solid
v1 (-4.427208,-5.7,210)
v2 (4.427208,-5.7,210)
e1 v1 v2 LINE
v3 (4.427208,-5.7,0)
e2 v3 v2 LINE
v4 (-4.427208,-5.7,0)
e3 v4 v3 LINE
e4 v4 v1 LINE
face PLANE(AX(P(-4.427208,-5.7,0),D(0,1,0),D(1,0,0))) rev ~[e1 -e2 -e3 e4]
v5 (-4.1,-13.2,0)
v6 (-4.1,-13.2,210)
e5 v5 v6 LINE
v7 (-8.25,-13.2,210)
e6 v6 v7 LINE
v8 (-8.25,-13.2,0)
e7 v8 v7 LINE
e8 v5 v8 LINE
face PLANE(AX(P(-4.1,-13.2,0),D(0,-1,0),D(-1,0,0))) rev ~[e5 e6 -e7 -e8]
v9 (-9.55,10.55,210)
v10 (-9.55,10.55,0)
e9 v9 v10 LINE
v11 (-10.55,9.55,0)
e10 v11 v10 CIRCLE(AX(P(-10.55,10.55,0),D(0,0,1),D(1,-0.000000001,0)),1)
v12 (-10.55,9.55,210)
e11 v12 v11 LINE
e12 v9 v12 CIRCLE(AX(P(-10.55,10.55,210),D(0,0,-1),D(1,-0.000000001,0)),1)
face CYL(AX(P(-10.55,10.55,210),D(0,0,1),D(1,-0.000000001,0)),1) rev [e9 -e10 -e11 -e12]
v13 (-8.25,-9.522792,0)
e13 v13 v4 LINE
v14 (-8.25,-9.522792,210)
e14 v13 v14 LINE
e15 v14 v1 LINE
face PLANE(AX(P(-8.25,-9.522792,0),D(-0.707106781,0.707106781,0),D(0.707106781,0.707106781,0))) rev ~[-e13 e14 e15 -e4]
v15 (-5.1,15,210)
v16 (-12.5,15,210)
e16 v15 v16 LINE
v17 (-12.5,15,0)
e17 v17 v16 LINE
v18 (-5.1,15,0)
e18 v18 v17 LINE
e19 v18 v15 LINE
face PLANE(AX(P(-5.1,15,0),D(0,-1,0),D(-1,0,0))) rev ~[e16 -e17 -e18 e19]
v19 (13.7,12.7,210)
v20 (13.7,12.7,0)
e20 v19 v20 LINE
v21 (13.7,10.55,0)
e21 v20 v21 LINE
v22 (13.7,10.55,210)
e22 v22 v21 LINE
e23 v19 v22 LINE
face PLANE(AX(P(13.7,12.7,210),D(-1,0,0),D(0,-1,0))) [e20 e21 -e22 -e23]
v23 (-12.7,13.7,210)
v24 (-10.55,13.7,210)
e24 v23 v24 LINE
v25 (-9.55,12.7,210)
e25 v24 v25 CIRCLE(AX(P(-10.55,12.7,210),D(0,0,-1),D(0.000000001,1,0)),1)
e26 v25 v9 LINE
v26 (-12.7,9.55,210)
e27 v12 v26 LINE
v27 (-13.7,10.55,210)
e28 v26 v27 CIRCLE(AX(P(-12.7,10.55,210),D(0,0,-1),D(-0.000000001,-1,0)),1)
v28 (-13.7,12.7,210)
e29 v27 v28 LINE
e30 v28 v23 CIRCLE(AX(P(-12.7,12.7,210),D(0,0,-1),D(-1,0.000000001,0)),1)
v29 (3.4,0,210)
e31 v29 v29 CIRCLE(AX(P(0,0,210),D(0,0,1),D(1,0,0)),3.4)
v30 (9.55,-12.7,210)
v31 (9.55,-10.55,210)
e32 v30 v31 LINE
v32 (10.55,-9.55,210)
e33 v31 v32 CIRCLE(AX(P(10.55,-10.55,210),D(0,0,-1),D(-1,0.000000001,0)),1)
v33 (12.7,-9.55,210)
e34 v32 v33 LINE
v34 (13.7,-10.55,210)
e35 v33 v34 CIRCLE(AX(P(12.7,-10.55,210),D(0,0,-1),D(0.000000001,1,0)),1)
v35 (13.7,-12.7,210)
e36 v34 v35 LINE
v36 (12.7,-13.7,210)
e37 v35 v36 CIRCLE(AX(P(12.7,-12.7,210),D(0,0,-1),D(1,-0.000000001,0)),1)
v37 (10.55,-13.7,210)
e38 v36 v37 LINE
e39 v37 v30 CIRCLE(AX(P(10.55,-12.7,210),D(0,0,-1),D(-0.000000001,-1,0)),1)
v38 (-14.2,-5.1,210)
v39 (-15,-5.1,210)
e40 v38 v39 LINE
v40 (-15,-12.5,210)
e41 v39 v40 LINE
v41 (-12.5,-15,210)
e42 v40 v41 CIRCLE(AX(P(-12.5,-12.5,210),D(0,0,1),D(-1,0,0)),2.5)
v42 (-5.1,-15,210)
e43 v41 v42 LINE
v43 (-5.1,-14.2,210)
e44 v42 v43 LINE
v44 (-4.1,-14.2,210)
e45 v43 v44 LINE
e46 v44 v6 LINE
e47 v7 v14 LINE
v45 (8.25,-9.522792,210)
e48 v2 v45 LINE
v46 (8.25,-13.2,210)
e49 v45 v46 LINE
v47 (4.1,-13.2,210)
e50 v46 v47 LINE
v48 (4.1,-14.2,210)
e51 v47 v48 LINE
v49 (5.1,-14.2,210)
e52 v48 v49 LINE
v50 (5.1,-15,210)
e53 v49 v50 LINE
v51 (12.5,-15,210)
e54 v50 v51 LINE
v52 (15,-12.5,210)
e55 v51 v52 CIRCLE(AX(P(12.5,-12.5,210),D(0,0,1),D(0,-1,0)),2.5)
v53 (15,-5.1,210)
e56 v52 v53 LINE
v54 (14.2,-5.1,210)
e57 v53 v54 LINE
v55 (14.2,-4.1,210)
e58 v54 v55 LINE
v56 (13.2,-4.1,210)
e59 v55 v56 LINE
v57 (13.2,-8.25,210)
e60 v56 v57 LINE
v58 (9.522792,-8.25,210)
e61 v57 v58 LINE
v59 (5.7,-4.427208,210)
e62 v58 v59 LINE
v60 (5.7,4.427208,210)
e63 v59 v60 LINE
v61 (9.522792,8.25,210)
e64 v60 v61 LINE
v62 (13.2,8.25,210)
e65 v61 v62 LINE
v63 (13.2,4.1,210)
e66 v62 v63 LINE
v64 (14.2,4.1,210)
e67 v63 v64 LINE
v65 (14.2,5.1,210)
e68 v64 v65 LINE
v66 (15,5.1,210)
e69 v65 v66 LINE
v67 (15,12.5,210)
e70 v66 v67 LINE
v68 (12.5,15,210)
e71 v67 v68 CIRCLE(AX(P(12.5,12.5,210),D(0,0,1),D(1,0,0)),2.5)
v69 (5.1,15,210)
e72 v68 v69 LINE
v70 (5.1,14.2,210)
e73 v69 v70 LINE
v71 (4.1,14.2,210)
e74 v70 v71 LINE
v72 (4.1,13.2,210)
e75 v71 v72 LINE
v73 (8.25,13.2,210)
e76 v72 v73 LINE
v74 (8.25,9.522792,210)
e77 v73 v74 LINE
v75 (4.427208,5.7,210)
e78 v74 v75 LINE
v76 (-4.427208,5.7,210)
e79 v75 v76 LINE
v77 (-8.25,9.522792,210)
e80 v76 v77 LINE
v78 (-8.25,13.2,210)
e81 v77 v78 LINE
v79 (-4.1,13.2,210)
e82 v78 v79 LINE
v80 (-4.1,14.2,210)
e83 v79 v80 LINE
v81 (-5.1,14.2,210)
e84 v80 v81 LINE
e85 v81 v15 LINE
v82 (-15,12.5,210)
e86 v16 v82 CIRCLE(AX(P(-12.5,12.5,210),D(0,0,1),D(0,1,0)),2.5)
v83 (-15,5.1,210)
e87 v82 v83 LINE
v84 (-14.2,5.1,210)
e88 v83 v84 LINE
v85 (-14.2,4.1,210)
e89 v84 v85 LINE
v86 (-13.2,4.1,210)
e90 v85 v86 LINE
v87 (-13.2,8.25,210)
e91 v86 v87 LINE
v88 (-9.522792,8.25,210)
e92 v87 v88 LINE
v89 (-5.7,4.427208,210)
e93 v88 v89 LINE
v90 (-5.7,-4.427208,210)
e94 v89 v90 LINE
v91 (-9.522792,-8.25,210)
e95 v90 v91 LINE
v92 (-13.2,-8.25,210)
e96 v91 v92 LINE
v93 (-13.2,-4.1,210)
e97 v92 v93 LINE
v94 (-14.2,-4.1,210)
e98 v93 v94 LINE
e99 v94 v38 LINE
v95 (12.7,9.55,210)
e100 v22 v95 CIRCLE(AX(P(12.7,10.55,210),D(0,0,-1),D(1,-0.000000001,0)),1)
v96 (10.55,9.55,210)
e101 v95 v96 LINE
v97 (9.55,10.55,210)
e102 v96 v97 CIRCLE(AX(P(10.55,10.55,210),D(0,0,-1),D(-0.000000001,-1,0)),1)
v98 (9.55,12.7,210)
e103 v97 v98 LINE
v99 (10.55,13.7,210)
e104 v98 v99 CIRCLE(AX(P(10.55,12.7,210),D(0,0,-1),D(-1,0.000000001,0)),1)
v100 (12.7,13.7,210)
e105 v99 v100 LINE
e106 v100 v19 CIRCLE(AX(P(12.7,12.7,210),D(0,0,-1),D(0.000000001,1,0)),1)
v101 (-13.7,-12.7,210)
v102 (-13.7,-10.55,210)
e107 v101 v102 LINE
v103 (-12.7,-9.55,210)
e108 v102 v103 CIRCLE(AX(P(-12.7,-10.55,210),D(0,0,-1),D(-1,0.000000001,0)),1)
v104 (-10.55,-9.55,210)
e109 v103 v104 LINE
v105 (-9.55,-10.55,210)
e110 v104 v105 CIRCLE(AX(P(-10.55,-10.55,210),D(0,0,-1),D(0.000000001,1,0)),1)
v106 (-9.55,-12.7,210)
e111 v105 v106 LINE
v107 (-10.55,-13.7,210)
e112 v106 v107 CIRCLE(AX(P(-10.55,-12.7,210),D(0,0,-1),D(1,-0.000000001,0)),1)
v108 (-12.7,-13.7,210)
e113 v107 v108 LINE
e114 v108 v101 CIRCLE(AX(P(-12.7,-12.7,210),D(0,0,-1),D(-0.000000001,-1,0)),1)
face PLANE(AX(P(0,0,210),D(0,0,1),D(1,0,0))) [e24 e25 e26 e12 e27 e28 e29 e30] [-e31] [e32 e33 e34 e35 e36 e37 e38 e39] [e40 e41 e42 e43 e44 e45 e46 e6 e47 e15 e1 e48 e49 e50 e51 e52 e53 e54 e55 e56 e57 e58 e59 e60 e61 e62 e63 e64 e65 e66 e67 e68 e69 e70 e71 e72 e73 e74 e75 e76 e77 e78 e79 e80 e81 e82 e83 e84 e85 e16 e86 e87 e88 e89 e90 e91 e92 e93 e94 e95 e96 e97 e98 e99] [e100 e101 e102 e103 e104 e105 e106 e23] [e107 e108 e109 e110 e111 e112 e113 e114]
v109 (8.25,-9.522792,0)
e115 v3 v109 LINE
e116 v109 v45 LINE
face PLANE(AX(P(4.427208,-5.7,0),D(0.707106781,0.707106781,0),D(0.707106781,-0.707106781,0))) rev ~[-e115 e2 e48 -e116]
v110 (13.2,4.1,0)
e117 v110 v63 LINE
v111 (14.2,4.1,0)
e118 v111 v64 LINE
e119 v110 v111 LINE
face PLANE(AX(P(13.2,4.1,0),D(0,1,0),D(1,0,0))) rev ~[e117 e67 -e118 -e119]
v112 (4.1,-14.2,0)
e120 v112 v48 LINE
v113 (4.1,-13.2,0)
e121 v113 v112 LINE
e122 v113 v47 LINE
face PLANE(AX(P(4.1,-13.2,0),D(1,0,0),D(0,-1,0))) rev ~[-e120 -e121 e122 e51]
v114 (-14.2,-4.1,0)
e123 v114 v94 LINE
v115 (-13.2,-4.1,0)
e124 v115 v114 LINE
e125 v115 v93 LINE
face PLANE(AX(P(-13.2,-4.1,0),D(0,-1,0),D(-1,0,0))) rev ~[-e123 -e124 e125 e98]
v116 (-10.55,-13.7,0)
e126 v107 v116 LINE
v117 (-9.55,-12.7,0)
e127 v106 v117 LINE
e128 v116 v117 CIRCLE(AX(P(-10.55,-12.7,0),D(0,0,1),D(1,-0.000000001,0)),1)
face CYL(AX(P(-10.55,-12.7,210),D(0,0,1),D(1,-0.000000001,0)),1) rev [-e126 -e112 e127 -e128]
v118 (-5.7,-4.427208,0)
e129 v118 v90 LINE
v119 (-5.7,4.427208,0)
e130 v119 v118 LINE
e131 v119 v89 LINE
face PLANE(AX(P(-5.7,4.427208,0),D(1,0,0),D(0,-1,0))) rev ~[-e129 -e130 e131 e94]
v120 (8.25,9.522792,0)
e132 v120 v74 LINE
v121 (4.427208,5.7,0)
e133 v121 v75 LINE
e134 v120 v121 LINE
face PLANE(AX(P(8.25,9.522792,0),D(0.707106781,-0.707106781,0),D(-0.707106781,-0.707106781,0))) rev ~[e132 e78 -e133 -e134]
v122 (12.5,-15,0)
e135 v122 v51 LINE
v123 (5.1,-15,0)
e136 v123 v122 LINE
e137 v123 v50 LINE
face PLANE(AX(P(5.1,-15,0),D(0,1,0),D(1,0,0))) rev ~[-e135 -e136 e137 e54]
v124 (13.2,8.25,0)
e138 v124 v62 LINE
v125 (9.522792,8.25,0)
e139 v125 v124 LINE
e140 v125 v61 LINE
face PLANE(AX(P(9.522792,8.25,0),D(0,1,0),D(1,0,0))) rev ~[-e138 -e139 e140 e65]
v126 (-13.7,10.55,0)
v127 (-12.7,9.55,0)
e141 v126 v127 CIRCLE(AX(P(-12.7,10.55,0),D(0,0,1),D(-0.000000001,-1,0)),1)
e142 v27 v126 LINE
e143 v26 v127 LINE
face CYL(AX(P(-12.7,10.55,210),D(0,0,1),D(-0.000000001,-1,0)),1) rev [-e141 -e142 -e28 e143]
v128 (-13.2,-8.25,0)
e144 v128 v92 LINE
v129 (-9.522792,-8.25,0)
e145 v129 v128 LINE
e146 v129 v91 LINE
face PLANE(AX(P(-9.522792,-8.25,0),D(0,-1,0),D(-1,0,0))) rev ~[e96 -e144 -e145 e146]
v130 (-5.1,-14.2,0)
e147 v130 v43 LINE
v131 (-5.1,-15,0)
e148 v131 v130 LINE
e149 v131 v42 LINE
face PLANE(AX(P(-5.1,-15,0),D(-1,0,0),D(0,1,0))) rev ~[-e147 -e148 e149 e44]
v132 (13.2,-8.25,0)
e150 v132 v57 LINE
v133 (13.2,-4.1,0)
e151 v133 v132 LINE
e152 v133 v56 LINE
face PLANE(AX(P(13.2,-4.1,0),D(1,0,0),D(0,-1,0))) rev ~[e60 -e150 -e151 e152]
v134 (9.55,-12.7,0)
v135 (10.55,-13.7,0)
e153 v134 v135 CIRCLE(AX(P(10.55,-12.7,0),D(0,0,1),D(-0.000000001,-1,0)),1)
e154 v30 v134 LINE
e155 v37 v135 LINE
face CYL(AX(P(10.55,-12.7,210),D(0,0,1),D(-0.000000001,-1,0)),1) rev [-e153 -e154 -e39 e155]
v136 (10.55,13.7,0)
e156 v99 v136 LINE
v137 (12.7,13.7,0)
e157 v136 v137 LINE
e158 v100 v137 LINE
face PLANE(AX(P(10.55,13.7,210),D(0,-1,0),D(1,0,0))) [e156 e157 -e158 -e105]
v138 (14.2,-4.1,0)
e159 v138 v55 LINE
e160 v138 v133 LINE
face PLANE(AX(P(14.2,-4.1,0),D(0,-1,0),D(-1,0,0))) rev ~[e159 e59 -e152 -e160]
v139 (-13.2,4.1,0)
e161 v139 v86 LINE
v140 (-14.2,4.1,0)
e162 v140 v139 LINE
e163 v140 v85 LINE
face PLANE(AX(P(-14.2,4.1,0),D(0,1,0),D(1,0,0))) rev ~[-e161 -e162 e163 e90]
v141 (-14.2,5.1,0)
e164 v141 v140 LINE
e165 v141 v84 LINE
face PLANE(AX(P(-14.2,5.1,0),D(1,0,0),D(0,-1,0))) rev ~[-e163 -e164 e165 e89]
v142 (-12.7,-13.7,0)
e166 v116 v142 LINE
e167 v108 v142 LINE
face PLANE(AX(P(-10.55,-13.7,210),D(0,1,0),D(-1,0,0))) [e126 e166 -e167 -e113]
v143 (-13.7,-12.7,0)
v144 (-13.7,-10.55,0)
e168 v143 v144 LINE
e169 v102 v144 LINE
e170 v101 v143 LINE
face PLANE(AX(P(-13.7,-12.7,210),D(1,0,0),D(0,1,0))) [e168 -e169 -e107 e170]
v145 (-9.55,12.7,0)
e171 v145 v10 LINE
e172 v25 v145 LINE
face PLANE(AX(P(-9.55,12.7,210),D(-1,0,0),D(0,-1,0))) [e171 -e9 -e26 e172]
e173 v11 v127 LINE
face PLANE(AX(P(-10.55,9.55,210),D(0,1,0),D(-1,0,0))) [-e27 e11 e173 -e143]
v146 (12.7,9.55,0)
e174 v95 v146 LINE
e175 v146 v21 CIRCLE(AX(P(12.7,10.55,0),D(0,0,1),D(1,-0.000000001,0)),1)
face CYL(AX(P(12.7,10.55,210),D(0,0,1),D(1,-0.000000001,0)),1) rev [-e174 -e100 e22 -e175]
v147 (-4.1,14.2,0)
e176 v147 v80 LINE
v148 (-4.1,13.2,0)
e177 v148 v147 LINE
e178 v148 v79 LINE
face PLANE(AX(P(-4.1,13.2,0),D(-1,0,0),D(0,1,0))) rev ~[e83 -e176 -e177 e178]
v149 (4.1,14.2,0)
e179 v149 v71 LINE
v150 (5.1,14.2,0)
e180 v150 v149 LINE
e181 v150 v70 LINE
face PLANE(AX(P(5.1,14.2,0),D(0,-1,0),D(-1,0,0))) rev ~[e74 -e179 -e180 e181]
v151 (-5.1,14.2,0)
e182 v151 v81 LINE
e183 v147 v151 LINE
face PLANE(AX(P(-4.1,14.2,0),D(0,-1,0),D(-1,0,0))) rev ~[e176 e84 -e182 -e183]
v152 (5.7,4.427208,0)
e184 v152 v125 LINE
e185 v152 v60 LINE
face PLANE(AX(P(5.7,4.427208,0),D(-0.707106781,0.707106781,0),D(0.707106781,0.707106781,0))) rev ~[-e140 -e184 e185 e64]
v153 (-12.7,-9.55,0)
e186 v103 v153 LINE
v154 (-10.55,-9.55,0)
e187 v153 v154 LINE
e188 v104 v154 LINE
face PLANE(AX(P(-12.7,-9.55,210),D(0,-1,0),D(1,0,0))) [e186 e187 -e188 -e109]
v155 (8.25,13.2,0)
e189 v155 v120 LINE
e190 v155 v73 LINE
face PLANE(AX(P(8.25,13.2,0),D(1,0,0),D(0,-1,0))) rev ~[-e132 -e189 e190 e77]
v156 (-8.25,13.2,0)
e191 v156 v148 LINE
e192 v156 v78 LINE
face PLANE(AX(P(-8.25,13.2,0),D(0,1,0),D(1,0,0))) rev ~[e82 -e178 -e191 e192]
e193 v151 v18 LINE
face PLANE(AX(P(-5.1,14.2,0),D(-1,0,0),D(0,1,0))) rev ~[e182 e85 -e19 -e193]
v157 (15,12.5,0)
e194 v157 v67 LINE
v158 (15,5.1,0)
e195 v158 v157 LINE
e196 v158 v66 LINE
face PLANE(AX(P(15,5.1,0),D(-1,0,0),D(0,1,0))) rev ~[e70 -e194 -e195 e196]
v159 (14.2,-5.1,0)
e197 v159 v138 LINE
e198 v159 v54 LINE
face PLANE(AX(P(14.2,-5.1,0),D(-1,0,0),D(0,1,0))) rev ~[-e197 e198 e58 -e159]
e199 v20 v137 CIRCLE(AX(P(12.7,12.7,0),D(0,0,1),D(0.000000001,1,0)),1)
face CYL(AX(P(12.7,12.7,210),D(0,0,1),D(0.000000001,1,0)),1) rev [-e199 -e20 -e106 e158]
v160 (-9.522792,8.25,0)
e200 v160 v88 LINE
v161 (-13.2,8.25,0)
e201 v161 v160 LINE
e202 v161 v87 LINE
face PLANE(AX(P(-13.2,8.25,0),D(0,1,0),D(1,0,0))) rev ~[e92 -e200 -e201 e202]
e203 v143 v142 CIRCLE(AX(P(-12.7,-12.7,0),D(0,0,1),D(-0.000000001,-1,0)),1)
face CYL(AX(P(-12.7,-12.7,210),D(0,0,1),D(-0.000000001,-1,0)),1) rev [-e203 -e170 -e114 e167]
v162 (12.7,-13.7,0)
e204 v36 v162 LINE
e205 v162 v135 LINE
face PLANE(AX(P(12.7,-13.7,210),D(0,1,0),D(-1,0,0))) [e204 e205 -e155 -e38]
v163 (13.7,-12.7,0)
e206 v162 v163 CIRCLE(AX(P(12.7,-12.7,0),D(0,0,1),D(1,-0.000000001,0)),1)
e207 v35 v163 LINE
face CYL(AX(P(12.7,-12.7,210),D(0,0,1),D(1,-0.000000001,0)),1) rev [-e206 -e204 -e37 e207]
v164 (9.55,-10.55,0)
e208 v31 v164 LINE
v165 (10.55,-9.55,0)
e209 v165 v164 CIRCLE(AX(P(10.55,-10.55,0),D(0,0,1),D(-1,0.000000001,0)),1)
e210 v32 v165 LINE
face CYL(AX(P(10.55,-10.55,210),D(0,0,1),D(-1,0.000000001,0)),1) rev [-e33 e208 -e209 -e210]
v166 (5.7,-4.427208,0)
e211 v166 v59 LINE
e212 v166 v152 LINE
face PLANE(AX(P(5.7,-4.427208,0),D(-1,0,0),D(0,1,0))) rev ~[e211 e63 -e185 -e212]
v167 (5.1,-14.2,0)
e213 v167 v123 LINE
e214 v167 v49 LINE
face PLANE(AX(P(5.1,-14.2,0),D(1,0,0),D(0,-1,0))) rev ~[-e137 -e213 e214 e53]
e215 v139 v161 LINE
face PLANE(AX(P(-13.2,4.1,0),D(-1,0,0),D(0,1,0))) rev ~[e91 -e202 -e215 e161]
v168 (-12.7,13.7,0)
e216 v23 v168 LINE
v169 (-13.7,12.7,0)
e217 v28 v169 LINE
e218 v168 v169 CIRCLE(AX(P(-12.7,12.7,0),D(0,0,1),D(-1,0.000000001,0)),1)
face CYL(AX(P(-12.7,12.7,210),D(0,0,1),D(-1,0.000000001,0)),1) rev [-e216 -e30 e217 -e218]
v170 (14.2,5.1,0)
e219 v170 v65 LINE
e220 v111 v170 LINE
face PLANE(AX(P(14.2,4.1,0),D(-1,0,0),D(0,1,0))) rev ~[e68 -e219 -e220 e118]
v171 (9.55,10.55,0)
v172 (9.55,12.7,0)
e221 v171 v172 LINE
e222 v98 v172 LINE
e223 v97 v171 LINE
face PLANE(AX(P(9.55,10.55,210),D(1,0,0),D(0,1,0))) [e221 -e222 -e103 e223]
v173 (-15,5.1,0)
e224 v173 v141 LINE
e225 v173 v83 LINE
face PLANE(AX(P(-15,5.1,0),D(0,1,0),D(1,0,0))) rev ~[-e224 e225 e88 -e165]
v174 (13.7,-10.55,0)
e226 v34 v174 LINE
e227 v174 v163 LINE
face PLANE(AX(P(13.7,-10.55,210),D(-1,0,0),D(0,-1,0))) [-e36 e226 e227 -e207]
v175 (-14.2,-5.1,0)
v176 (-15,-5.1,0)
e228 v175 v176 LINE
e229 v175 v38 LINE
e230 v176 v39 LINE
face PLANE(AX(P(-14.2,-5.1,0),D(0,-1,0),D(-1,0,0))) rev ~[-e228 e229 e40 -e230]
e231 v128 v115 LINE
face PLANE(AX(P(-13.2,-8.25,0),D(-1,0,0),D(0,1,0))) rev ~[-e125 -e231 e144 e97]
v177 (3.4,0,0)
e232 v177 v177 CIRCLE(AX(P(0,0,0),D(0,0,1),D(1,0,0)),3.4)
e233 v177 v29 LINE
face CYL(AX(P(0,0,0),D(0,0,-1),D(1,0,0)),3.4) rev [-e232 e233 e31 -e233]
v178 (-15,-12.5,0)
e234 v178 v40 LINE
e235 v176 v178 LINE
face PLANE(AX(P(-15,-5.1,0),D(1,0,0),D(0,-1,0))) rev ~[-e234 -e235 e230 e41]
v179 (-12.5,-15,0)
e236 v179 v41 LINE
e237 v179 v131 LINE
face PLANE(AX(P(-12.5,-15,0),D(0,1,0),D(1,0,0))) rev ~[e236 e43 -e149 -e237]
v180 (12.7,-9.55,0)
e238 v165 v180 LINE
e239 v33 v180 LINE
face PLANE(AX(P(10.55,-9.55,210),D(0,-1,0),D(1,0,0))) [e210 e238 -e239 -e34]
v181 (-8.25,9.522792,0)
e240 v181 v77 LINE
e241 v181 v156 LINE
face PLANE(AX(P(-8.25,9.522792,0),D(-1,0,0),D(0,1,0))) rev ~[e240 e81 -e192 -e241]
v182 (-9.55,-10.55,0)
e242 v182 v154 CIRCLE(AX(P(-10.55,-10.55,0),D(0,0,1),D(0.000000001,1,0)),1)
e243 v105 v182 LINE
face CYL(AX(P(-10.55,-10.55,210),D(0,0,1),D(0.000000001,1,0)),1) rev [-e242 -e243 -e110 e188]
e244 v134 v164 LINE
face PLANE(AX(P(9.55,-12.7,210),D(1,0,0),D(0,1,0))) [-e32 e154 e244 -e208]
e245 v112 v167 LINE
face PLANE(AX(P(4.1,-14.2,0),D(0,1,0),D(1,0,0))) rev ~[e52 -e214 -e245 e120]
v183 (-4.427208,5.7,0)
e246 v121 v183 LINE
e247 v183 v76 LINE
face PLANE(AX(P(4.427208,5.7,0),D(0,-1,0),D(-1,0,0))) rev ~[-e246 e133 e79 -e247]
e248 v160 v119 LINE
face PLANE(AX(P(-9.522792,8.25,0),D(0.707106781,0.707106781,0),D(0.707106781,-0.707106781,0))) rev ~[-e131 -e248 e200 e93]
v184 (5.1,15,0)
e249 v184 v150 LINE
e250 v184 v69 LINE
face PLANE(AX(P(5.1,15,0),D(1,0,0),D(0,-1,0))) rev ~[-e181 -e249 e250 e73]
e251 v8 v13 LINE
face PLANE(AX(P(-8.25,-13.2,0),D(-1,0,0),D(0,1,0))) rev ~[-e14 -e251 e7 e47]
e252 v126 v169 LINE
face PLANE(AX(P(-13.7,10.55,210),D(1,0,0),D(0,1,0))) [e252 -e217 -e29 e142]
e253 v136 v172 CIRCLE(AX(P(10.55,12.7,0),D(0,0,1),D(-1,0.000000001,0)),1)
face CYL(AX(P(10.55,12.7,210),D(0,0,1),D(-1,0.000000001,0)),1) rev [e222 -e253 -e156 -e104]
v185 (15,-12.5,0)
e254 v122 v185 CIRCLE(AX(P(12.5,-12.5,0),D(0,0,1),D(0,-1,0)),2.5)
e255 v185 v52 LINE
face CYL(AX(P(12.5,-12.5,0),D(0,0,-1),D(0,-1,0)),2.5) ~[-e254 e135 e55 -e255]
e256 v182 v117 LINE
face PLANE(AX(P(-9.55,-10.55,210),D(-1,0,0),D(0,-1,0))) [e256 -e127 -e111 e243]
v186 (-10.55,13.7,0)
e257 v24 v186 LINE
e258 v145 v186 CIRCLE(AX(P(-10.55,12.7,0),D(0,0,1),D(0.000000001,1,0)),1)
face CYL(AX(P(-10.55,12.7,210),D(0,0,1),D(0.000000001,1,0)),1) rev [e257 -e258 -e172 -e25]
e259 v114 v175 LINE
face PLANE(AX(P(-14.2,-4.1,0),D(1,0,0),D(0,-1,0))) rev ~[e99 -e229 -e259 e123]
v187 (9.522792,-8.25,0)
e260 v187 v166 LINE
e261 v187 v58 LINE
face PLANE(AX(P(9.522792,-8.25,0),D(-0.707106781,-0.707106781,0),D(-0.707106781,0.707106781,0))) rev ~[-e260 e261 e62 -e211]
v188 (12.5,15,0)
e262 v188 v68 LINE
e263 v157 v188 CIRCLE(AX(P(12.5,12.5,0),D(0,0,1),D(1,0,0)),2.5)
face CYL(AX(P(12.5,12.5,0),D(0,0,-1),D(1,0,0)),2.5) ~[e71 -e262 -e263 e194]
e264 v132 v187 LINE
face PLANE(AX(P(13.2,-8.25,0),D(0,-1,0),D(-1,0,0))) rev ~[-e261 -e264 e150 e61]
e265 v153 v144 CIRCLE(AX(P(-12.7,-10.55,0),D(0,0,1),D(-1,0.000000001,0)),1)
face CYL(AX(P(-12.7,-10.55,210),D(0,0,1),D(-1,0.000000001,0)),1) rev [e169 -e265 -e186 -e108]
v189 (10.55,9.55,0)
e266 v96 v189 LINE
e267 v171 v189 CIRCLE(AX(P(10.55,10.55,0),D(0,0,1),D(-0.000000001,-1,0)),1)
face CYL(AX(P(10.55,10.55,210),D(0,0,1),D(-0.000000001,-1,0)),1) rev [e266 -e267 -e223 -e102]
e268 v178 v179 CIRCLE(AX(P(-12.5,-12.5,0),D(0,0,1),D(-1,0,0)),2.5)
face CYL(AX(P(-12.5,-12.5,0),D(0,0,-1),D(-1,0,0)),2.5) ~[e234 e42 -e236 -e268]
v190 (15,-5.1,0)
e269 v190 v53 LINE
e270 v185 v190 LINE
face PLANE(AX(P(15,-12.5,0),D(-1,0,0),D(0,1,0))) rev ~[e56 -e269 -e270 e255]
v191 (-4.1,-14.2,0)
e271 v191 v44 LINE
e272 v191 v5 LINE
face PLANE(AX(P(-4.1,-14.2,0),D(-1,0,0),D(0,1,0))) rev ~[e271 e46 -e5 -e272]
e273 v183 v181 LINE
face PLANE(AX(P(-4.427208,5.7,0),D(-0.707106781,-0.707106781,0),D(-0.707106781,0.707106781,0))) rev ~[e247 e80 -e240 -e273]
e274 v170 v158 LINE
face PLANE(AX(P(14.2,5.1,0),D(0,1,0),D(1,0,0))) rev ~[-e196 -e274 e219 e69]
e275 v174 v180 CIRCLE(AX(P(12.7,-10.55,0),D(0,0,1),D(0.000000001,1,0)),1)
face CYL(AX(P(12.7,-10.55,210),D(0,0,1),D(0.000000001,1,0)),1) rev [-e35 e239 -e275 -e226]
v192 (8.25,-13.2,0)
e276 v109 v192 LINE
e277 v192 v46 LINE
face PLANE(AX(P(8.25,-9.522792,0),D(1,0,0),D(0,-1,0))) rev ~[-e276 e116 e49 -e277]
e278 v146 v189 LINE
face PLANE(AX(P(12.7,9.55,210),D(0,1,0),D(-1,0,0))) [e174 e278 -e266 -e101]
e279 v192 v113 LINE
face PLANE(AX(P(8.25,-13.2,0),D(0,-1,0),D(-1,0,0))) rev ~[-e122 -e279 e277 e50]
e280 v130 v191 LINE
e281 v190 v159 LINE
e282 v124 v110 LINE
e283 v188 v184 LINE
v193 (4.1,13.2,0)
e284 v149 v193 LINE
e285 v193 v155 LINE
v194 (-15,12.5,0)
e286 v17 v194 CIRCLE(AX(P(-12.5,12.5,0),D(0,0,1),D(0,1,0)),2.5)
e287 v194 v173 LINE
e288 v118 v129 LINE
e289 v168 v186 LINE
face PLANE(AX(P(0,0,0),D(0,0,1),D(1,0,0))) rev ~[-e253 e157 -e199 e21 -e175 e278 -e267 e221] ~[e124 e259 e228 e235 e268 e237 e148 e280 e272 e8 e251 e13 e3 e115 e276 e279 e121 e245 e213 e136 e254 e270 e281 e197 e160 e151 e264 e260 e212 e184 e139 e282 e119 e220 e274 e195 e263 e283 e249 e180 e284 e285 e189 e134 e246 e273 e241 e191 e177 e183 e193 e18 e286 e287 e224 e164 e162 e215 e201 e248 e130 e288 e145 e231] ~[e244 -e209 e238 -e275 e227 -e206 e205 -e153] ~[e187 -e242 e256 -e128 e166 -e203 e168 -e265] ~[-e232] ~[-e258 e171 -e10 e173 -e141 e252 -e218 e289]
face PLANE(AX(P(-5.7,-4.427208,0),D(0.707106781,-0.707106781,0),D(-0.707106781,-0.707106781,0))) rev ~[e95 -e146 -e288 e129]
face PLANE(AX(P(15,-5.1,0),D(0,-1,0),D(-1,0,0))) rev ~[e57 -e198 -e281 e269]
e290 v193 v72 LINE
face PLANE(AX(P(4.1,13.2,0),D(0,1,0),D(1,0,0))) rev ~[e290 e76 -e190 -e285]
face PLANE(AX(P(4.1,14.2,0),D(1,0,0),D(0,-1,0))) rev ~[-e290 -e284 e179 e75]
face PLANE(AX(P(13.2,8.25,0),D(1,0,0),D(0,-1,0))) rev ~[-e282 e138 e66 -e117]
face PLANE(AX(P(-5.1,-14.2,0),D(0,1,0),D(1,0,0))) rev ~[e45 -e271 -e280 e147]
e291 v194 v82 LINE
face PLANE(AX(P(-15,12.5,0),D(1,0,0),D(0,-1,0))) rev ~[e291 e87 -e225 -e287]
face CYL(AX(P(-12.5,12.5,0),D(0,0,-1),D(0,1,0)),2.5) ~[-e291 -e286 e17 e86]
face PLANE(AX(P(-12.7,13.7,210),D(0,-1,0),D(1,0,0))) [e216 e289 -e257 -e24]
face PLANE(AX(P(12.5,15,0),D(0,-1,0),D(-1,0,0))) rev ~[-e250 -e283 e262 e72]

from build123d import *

# Parameters (mm, degrees)
SKETCH1_R      = 3.4
EXTRUDE1_DEPTH = 210
EXTRUDE2_DEPTH = 212.068709192


with BuildPart() as part:
    # Sketch1 → Extrude1 (new body)
    with BuildSketch(Plane.XY):
        with BuildLine():
            Line((-5.1, 14.2), (-5.1, 15))
            Line((-5.1, 15), (-12.5, 15))
            ThreePointArc((-12.5, 15), (-14.267766953, 14.267766953), (-15, 12.5))
            Line((-15, 12.5), (-15, 5.1))
            Line((-15, 5.1), (-14.2, 5.1))
            Line((-14.2, 5.1), (-14.2, 4.1))
            Line((-14.2, 4.1), (-13.2, 4.1))
            Line((-13.2, 4.1), (-13.2, 8.25))
            Line((-13.2, 8.25), (-9.522792206, 8.25))
            Line((-9.522792206, 8.25), (-5.7, 4.427207794))
            Line((-5.7, 4.427207794), (-5.7, -4.427207794))
            Line((-5.7, -4.427207794), (-9.522792206, -8.25))
            Line((-9.522792206, -8.25), (-13.2, -8.25))
            Line((-13.2, -8.25), (-13.2, -4.1))
            Line((-13.2, -4.1), (-14.2, -4.1))
            Line((-14.2, -4.1), (-14.2, -5.1))
            Line((-14.2, -5.1), (-15, -5.1))
            Line((-15, -5.1), (-15, -12.5))
            ThreePointArc((-15, -12.5), (-14.267766953, -14.267766953), (-12.5, -15))
            Line((-12.5, -15), (-5.1, -15))
            Line((-5.1, -15), (-5.1, -14.2))
            Line((-5.1, -14.2), (-4.1, -14.2))
            Line((-4.1, -14.2), (-4.1, -13.2))
            Line((-4.1, -13.2), (-8.25, -13.2))
            Line((-8.25, -13.2), (-8.25, -9.522792206))
            Line((-8.25, -9.522792206), (-4.427207794, -5.7))
            Line((-4.427207794, -5.7), (4.427207794, -5.7))
            Line((4.427207794, -5.7), (8.25, -9.522792206))
            Line((8.25, -9.522792206), (8.25, -13.2))
            Line((8.25, -13.2), (4.1, -13.2))
            Line((4.1, -13.2), (4.1, -14.2))
            Line((4.1, -14.2), (5.1, -14.2))
            Line((5.1, -14.2), (5.1, -15))
            Line((5.1, -15), (12.5, -15))
            ThreePointArc((12.5, -15), (14.267766953, -14.267766953), (15, -12.5))
            Line((15, -12.5), (15, -5.1))
            Line((15, -5.1), (14.2, -5.1))
            Line((14.2, -5.1), (14.2, -4.1))
            Line((14.2, -4.1), (13.2, -4.1))
            Line((13.2, -4.1), (13.2, -8.25))
            Line((13.2, -8.25), (9.522792206, -8.25))
            Line((9.522792206, -8.25), (5.7, -4.427207794))
            Line((5.7, -4.427207794), (5.7, 4.427207794))
            Line((5.7, 4.427207794), (9.522792206, 8.25))
            Line((9.522792206, 8.25), (13.2, 8.25))
            Line((13.2, 8.25), (13.2, 4.1))
            Line((13.2, 4.1), (14.2, 4.1))
            Line((14.2, 4.1), (14.2, 5.1))
            Line((14.2, 5.1), (15, 5.1))
            Line((15, 5.1), (15, 12.5))
            ThreePointArc((15, 12.5), (14.267766953, 14.267766953), (12.5, 15))
            Line((12.5, 15), (5.1, 15))
            Line((5.1, 15), (5.1, 14.2))
            Line((5.1, 14.2), (4.1, 14.2))
            Line((4.1, 14.2), (4.1, 13.2))
            Line((4.1, 13.2), (8.25, 13.2))
            Line((8.25, 13.2), (8.25, 9.522792206))
            Line((8.25, 9.522792206), (4.427207794, 5.7))
            Line((4.427207794, 5.7), (-4.427207794, 5.7))
            Line((-4.427207794, 5.7), (-8.25, 9.522792206))
            Line((-8.25, 9.522792206), (-8.25, 13.2))
            Line((-8.25, 13.2), (-4.1, 13.2))
            Line((-4.1, 13.2), (-4.1, 14.2))
            Line((-4.1, 14.2), (-5.1, 14.2))
        make_face()
        Circle(SKETCH1_R, mode=Mode.SUBTRACT)
    extrude(amount=EXTRUDE1_DEPTH)

    # Sketch2 → Extrude2 (cut, through all)
    with BuildSketch(Plane.XY.offset(210)):
        with BuildLine():
            Line((13.7, 12.7), (13.7, 10.55))
            ThreePointArc((13.7, 10.55), (13.407106781, 9.842893219), (12.7, 9.55))
            Line((12.7, 9.55), (10.55, 9.55))
            ThreePointArc((10.55, 9.55), (9.842893219, 9.842893219), (9.55, 10.55))
            Line((9.55, 10.55), (9.55, 12.7))
            ThreePointArc((9.55, 12.7), (9.842893219, 13.407106781), (10.55, 13.7))
            Line((10.55, 13.7), (12.7, 13.7))
            ThreePointArc((12.7, 13.7), (13.407106781, 13.407106781), (13.7, 12.7))
        make_face()
        with BuildLine():
            Line((-12.7, 13.7), (-10.55, 13.7))
            ThreePointArc((-10.55, 13.7), (-9.842893219, 13.407106781), (-9.55, 12.7))
            Line((-9.55, 12.7), (-9.55, 10.55))
            ThreePointArc((-9.55, 10.55), (-9.842893219, 9.842893219), (-10.55, 9.55))
            Line((-10.55, 9.55), (-12.7, 9.55))
            ThreePointArc((-12.7, 9.55), (-13.407106781, 9.842893219), (-13.7, 10.55))
            Line((-13.7, 10.55), (-13.7, 12.7))
            ThreePointArc((-13.7, 12.7), (-13.407106781, 13.407106781), (-12.7, 13.7))
        make_face()
        with BuildLine():
            Line((12.7, -13.7), (10.55, -13.7))
            ThreePointArc((10.55, -13.7), (9.842893219, -13.407106781), (9.55, -12.7))
            Line((9.55, -12.7), (9.55, -10.55))
            ThreePointArc((9.55, -10.55), (9.842893219, -9.842893219), (10.55, -9.55))
            Line((10.55, -9.55), (12.7, -9.55))
            ThreePointArc((12.7, -9.55), (13.407106781, -9.842893219), (13.7, -10.55))
            Line((13.7, -10.55), (13.7, -12.7))
            ThreePointArc((13.7, -12.7), (13.407106781, -13.407106781), (12.7, -13.7))
        make_face()
        with BuildLine():
            Line((-13.7, -12.7), (-13.7, -10.55))
            ThreePointArc((-13.7, -10.55), (-13.407106781, -9.842893219), (-12.7, -9.55))
            Line((-12.7, -9.55), (-10.55, -9.55))
            ThreePointArc((-10.55, -9.55), (-9.842893219, -9.842893219), (-9.55, -10.55))
            Line((-9.55, -10.55), (-9.55, -12.7))
            ThreePointArc((-9.55, -12.7), (-9.842893219, -13.407106781), (-10.55, -13.7))
            Line((-10.55, -13.7), (-12.7, -13.7))
            ThreePointArc((-12.7, -13.7), (-13.407106781, -13.407106781), (-13.7, -12.7))
        make_face()
    extrude(amount=-EXTRUDE2_DEPTH, mode=Mode.SUBTRACT)


solid = part.part
